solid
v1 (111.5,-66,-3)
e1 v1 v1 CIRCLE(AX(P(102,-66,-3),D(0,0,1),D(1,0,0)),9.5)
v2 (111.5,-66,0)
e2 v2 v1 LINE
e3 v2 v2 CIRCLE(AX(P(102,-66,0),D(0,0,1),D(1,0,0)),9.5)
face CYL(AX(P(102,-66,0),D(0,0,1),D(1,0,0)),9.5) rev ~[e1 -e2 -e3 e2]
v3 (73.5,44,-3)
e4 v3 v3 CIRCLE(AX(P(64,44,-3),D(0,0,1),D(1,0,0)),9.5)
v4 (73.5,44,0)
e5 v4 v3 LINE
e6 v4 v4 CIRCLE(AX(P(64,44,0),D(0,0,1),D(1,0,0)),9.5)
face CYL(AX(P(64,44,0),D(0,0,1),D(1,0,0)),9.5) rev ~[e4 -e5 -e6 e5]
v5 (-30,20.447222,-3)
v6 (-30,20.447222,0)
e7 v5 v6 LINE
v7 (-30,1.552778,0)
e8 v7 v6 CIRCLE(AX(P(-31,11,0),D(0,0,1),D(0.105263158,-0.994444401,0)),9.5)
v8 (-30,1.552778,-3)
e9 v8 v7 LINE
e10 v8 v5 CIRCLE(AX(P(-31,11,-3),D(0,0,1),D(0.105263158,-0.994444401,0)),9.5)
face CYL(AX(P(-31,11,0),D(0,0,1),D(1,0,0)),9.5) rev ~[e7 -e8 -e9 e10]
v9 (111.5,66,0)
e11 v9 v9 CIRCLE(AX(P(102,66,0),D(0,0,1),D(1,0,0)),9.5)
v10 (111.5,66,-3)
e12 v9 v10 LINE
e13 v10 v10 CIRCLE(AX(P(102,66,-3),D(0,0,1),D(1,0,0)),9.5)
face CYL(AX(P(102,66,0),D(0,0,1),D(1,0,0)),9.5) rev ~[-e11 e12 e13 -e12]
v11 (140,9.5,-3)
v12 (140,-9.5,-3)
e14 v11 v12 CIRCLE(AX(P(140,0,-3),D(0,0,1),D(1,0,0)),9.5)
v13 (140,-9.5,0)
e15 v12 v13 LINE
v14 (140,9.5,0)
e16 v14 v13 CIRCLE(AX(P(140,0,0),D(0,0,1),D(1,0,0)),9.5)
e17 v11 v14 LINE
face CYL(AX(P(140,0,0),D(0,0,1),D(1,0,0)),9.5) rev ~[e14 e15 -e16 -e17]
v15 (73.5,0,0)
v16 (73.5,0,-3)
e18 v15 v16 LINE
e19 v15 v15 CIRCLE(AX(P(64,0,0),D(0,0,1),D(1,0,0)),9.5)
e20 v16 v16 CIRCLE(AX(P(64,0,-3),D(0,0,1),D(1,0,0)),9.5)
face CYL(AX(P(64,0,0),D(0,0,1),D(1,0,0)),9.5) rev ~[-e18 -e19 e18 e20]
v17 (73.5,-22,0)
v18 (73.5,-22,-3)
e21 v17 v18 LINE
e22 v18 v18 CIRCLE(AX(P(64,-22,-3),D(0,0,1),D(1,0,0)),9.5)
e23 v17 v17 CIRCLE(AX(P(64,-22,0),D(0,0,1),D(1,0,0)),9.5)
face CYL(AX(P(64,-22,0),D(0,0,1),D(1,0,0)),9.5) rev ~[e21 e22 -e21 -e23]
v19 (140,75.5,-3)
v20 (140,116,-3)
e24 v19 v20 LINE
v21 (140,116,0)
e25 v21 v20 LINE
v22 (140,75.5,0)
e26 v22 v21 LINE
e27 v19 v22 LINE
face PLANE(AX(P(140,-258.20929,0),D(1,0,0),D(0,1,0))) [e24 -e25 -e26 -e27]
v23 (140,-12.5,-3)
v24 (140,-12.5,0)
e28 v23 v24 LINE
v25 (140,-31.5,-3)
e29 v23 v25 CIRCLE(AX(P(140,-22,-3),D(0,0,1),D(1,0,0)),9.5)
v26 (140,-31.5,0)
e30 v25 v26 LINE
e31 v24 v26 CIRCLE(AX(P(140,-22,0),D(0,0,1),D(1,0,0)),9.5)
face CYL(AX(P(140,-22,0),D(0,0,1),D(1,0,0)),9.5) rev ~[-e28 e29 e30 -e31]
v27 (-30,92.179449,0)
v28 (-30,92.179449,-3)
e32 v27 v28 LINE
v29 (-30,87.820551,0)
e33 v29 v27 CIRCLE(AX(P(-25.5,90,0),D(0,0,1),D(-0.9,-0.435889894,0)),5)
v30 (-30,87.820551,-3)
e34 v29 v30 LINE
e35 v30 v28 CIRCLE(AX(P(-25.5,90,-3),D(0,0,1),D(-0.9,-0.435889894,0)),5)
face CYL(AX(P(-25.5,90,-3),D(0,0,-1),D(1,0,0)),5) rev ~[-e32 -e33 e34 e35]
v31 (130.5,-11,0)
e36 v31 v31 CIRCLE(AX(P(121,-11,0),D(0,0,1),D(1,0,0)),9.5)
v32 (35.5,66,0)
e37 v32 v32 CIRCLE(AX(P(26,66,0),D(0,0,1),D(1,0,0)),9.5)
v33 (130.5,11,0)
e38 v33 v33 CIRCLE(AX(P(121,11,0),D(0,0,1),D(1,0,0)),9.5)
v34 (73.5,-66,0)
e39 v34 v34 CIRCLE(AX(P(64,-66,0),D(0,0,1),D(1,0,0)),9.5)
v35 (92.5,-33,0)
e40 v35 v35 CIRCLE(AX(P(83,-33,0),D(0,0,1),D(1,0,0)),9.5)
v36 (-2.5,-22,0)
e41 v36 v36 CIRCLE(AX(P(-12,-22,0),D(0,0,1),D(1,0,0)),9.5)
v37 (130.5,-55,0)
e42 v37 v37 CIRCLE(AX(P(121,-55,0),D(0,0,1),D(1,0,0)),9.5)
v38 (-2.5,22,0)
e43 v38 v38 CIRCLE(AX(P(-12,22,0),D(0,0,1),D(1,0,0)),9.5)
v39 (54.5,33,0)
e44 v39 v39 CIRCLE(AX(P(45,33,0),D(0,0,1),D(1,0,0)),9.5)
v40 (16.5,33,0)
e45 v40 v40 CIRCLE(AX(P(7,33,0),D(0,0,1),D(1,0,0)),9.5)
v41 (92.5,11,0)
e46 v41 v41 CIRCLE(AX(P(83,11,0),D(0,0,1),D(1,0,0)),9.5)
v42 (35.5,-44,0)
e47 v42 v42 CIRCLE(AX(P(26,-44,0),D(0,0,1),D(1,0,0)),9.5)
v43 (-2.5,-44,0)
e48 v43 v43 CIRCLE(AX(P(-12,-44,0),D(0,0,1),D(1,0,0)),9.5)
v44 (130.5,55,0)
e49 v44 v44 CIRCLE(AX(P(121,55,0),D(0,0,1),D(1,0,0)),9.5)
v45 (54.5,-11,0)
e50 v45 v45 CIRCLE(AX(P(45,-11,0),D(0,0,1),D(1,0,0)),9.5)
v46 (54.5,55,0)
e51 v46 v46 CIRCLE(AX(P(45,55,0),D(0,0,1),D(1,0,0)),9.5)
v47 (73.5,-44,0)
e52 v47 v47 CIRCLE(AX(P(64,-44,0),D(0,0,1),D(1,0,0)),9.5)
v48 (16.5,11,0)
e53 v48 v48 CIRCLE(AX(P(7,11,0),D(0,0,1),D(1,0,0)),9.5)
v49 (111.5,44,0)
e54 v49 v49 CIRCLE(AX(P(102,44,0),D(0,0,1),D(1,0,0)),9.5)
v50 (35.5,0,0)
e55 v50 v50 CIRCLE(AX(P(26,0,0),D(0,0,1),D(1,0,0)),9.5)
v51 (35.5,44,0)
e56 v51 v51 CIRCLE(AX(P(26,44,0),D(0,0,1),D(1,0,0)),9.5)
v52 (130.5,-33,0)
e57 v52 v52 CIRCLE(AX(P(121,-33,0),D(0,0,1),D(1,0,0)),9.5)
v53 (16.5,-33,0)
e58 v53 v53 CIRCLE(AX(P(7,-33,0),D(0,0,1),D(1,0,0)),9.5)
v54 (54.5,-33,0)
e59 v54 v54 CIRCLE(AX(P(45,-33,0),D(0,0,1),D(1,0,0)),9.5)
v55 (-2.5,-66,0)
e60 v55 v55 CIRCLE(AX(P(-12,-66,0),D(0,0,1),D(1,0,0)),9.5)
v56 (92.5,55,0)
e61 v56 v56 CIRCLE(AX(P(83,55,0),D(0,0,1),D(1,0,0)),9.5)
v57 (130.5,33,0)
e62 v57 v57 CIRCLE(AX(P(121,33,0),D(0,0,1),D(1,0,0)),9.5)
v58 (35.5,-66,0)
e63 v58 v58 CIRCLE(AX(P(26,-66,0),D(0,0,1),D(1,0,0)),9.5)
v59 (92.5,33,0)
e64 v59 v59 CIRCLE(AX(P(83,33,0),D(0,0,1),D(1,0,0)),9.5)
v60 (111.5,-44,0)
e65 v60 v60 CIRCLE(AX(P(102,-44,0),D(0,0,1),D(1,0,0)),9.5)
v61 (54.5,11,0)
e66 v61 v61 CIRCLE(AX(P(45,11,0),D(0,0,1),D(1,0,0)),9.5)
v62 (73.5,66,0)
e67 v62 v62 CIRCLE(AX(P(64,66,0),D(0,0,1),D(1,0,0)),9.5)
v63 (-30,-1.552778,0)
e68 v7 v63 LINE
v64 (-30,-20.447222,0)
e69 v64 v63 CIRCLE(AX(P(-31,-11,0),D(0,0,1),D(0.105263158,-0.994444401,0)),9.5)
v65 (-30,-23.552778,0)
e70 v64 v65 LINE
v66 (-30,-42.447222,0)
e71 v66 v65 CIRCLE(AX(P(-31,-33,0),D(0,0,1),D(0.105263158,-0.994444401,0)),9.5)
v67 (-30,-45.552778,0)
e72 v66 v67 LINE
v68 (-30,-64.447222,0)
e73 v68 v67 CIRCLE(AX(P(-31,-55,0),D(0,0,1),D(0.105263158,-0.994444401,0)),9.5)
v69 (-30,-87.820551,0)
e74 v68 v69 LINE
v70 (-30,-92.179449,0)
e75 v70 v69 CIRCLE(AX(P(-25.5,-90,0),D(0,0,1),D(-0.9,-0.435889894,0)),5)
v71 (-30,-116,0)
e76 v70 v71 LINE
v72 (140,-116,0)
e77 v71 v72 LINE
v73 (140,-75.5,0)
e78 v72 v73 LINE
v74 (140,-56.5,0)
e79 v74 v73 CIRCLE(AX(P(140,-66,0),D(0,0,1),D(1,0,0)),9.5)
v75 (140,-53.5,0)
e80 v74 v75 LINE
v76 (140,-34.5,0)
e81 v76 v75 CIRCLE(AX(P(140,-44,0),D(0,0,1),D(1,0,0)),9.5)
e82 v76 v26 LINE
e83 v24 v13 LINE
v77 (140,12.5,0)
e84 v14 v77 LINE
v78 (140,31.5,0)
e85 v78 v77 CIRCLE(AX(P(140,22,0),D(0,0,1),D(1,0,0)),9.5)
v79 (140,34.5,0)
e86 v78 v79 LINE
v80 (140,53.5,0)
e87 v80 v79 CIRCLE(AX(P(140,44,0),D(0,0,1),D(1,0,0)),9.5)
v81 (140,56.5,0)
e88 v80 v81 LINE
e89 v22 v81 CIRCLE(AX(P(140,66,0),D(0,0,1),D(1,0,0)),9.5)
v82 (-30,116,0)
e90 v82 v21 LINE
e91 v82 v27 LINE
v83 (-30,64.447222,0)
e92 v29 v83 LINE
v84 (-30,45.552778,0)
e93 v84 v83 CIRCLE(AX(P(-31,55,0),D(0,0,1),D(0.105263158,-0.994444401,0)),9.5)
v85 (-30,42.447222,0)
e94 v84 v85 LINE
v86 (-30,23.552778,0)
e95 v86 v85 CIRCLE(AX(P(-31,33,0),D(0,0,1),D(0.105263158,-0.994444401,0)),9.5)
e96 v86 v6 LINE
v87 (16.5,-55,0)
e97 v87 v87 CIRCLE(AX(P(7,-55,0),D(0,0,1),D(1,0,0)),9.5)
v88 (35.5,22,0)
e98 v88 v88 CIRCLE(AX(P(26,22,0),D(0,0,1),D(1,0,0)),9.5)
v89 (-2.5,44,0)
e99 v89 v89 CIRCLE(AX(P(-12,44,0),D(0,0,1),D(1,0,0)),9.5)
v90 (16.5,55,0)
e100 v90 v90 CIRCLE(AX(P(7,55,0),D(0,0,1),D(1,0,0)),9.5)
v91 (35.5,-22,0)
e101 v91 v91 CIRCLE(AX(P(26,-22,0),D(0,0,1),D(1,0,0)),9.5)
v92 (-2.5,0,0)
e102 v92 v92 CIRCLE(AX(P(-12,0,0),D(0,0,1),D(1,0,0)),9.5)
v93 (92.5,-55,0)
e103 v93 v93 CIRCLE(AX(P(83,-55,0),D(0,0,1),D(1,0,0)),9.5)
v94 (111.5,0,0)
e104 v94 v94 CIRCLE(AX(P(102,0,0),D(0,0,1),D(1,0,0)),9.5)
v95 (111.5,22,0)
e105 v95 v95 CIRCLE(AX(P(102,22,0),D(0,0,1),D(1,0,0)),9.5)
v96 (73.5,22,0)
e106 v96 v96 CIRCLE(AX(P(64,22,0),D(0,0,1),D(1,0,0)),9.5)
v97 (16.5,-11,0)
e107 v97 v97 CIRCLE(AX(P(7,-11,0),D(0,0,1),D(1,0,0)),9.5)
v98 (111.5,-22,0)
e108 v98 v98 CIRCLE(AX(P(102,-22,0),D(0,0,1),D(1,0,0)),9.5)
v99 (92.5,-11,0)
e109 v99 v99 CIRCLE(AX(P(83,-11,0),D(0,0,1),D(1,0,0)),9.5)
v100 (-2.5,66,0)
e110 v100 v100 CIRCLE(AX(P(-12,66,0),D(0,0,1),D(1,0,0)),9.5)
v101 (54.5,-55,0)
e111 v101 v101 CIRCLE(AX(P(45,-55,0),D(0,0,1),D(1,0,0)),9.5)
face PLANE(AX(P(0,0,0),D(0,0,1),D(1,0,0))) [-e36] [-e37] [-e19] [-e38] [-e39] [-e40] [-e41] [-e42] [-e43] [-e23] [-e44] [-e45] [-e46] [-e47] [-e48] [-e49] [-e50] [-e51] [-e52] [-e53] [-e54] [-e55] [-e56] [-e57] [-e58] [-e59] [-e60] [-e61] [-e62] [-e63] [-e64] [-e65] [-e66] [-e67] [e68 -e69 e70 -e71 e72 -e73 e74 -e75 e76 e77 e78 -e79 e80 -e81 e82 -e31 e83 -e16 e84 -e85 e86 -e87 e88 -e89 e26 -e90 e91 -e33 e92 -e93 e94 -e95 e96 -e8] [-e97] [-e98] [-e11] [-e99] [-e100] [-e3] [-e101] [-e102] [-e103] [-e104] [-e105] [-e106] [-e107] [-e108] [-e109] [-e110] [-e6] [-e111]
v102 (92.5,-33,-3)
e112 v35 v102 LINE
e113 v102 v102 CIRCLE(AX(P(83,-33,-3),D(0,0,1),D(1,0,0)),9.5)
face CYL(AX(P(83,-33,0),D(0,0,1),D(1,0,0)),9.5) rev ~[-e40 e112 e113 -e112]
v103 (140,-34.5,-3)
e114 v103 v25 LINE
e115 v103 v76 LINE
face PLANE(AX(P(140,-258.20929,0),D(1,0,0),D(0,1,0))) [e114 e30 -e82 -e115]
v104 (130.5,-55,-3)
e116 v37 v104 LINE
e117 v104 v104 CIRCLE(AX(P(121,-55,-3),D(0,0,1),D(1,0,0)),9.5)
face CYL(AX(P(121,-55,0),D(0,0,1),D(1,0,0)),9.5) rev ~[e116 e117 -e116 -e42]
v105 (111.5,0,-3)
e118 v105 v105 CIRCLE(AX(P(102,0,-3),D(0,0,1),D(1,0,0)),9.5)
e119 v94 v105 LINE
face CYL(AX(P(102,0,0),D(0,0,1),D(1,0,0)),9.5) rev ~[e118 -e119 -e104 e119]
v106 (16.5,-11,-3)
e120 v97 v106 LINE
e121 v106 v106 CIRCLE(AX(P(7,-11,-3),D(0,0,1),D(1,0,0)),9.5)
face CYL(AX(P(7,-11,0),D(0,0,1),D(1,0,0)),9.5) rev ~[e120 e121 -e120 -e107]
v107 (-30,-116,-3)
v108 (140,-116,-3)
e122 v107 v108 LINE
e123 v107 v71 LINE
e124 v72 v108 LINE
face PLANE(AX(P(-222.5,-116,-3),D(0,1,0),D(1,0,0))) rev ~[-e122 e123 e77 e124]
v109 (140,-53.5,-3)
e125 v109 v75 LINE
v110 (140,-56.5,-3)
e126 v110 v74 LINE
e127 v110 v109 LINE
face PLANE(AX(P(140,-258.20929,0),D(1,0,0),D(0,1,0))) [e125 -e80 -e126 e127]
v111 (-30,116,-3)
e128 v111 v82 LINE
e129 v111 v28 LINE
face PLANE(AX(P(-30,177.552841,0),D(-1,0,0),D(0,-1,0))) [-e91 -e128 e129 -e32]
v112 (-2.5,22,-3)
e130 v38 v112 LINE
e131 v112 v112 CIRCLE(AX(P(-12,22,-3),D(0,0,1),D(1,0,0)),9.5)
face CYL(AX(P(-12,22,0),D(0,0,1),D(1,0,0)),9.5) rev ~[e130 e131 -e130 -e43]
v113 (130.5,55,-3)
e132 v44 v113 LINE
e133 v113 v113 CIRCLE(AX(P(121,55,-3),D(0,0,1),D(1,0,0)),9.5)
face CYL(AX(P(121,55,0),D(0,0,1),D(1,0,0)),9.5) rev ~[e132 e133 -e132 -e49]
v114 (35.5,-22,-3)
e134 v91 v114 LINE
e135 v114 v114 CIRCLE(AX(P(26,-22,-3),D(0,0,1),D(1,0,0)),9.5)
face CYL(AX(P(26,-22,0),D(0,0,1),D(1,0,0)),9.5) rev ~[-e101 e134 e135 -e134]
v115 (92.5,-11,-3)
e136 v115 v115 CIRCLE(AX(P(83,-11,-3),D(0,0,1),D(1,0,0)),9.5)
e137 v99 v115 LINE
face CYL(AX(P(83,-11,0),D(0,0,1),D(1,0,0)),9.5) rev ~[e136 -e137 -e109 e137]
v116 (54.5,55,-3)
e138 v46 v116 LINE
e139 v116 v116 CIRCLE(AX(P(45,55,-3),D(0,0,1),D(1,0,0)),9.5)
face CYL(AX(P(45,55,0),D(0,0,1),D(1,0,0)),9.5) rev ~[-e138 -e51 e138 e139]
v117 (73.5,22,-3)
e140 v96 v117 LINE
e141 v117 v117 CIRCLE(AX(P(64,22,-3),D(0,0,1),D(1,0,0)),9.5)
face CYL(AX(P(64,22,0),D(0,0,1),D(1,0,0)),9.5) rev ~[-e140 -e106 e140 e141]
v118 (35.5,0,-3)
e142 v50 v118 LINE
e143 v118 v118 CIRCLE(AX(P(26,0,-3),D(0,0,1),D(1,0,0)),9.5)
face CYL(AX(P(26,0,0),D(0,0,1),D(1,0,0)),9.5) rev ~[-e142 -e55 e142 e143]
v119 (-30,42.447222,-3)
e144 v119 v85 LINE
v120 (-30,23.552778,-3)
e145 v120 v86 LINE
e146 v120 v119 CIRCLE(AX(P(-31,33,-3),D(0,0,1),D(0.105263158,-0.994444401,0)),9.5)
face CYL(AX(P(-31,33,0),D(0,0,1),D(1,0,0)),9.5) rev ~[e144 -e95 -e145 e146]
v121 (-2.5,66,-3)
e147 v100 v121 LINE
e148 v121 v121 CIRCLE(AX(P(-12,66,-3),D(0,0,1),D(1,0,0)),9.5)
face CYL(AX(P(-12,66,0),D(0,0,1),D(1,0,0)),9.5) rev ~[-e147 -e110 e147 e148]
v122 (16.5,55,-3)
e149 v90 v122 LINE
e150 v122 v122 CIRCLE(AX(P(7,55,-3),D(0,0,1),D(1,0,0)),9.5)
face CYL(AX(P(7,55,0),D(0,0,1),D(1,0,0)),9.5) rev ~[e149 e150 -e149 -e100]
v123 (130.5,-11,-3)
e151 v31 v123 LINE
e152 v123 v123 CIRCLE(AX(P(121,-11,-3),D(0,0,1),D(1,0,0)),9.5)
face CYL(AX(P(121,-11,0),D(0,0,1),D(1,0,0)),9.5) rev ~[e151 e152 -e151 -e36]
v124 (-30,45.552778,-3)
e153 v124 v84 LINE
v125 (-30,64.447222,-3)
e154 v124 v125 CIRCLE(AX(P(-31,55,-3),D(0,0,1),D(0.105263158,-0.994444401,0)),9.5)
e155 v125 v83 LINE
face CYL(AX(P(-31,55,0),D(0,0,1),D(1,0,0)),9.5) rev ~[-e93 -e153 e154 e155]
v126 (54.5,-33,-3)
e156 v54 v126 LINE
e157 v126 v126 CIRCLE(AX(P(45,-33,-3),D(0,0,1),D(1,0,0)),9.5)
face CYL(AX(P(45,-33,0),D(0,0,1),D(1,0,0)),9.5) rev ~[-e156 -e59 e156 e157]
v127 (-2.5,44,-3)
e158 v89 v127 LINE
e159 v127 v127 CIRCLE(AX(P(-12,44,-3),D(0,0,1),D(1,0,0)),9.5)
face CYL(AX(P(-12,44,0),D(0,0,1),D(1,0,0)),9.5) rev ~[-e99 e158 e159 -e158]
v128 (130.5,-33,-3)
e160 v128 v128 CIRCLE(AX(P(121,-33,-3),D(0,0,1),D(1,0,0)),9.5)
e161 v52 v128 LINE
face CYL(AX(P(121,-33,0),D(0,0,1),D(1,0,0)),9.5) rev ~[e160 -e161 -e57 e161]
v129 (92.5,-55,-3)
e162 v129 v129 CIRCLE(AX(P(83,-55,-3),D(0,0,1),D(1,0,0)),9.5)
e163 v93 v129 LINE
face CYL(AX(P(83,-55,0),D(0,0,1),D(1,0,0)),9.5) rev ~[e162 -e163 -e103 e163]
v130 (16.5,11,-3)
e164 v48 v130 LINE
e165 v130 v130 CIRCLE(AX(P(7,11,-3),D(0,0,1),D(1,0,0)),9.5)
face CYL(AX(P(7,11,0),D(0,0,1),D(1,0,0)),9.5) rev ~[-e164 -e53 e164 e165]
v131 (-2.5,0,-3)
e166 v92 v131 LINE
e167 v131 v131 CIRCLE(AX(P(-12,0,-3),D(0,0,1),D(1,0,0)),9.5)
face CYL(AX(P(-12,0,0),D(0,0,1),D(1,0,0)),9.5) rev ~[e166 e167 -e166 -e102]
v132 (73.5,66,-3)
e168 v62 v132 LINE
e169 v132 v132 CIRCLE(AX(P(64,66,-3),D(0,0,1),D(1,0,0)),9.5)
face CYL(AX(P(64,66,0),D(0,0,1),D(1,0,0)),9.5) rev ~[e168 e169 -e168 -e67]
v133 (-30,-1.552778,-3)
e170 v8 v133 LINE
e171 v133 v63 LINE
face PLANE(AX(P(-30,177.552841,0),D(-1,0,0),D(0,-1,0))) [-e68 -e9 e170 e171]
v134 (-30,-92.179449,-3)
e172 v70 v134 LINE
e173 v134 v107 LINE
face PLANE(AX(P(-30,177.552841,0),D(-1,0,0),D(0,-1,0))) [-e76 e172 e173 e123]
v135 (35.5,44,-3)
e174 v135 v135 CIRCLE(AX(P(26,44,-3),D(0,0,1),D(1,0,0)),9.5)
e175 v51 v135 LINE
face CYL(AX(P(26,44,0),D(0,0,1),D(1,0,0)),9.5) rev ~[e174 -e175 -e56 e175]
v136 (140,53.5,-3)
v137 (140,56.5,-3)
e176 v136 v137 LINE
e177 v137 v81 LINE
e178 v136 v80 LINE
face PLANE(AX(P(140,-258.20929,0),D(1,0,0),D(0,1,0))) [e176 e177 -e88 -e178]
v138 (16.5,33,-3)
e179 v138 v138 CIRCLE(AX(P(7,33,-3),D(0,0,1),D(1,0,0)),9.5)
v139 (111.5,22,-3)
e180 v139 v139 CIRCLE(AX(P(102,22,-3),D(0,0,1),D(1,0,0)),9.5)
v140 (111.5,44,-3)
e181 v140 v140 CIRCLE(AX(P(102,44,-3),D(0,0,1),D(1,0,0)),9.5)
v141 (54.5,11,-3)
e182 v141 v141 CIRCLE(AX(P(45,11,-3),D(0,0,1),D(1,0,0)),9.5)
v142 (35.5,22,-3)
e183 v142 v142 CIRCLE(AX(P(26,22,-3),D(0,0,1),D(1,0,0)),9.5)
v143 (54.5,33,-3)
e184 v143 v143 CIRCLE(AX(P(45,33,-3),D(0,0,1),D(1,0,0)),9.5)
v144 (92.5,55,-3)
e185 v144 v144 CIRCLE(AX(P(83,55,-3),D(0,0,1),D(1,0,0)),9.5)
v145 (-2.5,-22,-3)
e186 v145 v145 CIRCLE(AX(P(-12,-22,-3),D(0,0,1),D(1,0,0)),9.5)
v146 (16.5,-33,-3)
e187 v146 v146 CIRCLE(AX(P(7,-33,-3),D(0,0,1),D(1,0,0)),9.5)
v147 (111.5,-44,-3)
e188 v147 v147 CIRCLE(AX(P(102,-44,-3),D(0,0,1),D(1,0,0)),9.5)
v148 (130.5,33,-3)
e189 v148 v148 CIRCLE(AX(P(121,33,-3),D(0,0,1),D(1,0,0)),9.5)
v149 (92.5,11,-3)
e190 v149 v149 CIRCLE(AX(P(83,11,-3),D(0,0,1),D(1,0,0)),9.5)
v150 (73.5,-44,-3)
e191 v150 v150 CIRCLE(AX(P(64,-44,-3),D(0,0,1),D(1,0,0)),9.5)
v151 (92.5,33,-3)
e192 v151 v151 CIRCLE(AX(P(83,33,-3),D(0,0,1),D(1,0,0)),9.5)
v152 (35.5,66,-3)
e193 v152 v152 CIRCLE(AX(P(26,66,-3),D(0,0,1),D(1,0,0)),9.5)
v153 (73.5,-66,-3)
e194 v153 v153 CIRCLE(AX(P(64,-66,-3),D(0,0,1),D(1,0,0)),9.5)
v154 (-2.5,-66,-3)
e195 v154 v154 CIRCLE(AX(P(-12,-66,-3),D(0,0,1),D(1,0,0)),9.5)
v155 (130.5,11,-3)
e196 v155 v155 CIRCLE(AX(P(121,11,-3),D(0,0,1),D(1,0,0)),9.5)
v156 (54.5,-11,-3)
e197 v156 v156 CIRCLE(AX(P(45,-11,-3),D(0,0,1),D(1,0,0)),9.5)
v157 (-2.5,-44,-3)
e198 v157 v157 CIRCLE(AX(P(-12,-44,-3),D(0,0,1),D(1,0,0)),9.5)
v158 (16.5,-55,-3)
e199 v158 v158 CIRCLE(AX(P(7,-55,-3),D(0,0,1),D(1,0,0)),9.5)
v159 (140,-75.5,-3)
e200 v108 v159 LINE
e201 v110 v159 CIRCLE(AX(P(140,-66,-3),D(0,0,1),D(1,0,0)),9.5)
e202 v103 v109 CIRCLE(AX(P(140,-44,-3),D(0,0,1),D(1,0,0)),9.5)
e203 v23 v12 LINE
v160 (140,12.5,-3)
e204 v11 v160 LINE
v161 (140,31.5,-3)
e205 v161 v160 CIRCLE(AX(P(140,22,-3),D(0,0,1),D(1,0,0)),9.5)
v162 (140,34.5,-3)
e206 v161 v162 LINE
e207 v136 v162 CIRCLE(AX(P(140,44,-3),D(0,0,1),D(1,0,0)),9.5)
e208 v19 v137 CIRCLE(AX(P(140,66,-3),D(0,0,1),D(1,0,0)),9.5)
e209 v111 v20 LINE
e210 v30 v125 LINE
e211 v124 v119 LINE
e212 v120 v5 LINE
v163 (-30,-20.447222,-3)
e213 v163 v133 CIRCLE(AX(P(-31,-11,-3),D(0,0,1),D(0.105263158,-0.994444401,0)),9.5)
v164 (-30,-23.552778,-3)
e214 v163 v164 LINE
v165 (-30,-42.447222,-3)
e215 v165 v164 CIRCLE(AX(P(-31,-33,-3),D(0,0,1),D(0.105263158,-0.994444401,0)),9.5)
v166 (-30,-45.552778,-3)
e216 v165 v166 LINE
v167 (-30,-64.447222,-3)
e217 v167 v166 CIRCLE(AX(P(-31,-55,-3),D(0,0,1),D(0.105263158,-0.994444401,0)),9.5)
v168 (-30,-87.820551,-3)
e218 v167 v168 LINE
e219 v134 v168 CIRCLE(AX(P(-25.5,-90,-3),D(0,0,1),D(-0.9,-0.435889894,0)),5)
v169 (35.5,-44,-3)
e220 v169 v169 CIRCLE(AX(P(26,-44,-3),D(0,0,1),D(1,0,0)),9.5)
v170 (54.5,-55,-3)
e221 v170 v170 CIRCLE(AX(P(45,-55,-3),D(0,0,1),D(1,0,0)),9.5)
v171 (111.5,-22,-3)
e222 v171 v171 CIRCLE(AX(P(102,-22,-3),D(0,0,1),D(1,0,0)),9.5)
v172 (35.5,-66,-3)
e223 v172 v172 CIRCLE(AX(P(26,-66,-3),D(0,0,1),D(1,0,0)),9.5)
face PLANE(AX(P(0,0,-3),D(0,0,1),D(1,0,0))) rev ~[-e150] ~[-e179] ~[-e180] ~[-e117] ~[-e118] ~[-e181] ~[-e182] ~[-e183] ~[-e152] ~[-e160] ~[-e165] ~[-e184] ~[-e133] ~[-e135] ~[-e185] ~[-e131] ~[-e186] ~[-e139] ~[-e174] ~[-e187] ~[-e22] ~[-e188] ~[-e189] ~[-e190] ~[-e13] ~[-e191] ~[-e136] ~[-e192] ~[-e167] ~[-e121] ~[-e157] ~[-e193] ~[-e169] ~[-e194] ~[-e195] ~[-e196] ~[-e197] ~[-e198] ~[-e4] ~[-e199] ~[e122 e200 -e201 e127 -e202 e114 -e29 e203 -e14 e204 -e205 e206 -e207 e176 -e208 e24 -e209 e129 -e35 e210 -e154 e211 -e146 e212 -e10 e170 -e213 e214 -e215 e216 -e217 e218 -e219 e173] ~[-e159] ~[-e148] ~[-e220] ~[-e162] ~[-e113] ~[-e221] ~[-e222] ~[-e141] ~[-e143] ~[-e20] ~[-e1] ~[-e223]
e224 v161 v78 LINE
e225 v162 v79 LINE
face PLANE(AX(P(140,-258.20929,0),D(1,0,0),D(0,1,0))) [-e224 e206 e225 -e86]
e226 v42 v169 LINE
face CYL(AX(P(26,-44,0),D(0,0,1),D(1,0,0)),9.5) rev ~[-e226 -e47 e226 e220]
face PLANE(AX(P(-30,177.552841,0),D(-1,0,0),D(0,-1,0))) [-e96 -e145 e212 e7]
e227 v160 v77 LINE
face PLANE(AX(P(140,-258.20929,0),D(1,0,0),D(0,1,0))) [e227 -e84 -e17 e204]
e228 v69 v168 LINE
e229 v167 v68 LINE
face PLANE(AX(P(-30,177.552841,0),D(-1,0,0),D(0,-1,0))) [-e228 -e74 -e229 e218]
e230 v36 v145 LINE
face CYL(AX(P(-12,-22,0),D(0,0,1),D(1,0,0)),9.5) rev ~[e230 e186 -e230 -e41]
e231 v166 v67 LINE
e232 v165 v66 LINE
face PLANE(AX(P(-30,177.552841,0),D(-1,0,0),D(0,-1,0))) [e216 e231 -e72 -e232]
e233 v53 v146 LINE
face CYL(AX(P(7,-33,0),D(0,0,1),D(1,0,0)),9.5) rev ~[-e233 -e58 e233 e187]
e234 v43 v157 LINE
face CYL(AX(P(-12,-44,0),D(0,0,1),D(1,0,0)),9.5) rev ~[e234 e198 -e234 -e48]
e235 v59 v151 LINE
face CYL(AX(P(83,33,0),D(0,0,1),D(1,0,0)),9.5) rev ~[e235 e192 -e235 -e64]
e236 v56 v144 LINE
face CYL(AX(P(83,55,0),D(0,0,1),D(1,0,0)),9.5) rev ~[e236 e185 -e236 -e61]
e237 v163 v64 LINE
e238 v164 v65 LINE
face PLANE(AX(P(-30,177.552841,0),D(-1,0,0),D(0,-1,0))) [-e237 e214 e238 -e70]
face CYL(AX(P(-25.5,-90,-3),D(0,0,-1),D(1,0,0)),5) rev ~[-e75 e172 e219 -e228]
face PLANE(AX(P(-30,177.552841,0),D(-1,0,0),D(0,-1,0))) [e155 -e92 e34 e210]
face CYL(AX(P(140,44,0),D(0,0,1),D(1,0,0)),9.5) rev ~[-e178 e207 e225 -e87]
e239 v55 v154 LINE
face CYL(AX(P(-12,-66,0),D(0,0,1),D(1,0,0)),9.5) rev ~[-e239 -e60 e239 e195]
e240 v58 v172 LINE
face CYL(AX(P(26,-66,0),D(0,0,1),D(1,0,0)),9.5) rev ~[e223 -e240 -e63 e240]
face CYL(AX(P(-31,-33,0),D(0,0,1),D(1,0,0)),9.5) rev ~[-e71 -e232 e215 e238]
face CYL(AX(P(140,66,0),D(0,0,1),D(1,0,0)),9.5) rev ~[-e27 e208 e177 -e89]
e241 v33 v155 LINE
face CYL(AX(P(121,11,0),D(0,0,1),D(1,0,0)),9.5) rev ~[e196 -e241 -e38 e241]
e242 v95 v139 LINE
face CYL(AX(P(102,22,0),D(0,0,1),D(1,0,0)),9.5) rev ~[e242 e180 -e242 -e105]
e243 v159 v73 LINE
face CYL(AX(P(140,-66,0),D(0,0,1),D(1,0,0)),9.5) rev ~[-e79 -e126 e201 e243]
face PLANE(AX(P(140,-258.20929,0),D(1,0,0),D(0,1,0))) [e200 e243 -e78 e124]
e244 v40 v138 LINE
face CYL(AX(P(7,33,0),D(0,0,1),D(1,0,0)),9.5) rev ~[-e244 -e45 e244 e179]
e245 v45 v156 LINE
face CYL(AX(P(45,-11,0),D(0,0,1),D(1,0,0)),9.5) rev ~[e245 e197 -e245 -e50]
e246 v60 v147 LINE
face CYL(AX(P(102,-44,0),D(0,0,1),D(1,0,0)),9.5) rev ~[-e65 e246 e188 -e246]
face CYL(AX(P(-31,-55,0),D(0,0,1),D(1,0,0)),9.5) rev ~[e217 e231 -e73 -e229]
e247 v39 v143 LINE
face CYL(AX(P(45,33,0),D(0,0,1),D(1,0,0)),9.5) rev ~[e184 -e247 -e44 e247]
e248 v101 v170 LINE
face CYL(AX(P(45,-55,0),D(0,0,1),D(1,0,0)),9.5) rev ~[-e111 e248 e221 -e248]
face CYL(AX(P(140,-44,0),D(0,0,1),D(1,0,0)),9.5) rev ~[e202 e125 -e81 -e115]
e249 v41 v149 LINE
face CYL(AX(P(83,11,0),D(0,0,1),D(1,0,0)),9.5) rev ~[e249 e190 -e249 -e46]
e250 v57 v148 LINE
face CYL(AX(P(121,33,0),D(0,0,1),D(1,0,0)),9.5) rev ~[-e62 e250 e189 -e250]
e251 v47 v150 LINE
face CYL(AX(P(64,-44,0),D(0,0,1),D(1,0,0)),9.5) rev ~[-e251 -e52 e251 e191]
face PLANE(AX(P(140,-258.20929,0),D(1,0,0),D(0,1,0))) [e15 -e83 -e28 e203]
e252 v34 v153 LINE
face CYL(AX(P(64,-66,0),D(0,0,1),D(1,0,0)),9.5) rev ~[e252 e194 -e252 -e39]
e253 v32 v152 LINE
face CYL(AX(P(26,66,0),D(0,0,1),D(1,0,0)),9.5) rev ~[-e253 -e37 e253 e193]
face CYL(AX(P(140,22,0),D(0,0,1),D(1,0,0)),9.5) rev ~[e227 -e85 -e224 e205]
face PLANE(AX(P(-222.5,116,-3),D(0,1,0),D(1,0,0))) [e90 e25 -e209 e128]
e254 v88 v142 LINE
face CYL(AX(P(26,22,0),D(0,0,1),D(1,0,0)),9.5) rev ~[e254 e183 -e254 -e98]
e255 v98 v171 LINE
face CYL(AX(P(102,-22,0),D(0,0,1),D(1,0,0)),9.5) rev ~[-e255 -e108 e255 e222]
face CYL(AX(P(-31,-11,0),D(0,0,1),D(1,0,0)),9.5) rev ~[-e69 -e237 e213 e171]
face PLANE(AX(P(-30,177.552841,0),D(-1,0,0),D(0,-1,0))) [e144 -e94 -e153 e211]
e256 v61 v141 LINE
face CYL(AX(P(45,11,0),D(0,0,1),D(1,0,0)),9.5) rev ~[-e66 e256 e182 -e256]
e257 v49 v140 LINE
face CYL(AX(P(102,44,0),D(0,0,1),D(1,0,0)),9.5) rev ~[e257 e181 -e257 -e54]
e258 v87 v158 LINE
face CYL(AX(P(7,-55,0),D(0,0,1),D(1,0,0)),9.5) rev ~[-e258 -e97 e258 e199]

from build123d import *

# Parameters (mm, degrees)
SKETCH086_W     = 445
SKETCH086_H     = 232
PAD026_DEPTH    = 3
SKETCH087_R     = 9.5
POCKET057_DEPTH = 5
FILLET011_R     = 2
POCKET058_DEPTH = 10.001
SKETCH089_R     = 6
SKETCH089_R_2   = 5
POCKET059_DEPTH = 5
POCKET064_DEPTH = 5


with BuildPart() as part:
    # Sketch086 → Pad026 (new body)
    with BuildSketch(Plane.XY):
        Rectangle(SKETCH086_W, SKETCH086_H)
    extrude(amount=PAD026_DEPTH)

    # Sketch087 (on Face6 of Pad026) → Pocket057 (cut)
    with BuildSketch(Plane.XY.offset(3)):
        with Locations((-183, 55)):
            Circle(SKETCH087_R)
        with Locations((-183, 33)):
            Circle(SKETCH087_R)
        with Locations((-183, 11)):
            Circle(SKETCH087_R)
        with Locations((-183, -11)):
            Circle(SKETCH087_R)
        with Locations((-183, -33)):
            Circle(SKETCH087_R)
        with Locations((-183, -55)):
            Circle(SKETCH087_R)
        with Locations((-164, 44)):
            Circle(SKETCH087_R)
        with Locations((-164, 22)):
            Circle(SKETCH087_R)
        with Locations((-164, 0)):
            Circle(SKETCH087_R)
        with Locations((-164, -22)):
            Circle(SKETCH087_R)
        with Locations((-164, -44)):
            Circle(SKETCH087_R)
        with Locations((-145, 55)):
            Circle(SKETCH087_R)
        with Locations((-145, 33)):
            Circle(SKETCH087_R)
        with Locations((-145, 11)):
            Circle(SKETCH087_R)
        with Locations((-145, -11)):
            Circle(SKETCH087_R)
        with Locations((-145, -33)):
            Circle(SKETCH087_R)
        with Locations((-145, -55)):
            Circle(SKETCH087_R)
        with Locations((-126, 44)):
            Circle(SKETCH087_R)
        with Locations((-126, 22)):
            Circle(SKETCH087_R)
        with Locations((-126, 0)):
            Circle(SKETCH087_R)
        with Locations((-126, -22)):
            Circle(SKETCH087_R)
        with Locations((-126, -44)):
            Circle(SKETCH087_R)
        with Locations((-107, 55)):
            Circle(SKETCH087_R)
        with Locations((-107, 33)):
            Circle(SKETCH087_R)
        with Locations((-107, 11)):
            Circle(SKETCH087_R)
        with Locations((-107, -11)):
            Circle(SKETCH087_R)
        with Locations((-107, -33)):
            Circle(SKETCH087_R)
        with Locations((-107, -55)):
            Circle(SKETCH087_R)
        with Locations((-88, -44)):
            Circle(SKETCH087_R)
        with Locations((-88, -22)):
            Circle(SKETCH087_R)
        with Locations((-88, 0)):
            Circle(SKETCH087_R)
        with Locations((-88, 22)):
            Circle(SKETCH087_R)
        with Locations((-88, 44)):
            Circle(SKETCH087_R)
        with Locations((-69, 55)):
            Circle(SKETCH087_R)
        with Locations((-69, 33)):
            Circle(SKETCH087_R)
        with Locations((-69, 11)):
            Circle(SKETCH087_R)
        with Locations((-69, -11)):
            Circle(SKETCH087_R)
        with Locations((-69, -33)):
            Circle(SKETCH087_R)
        with Locations((-50, 44)):
            Circle(SKETCH087_R)
        with Locations((-50, 22)):
            Circle(SKETCH087_R)
        with Locations((-50, 0)):
            Circle(SKETCH087_R)
        with Locations((-50, -22)):
            Circle(SKETCH087_R)
        with Locations((-50, -44)):
            Circle(SKETCH087_R)
        with Locations((-69, -55)):
            Circle(SKETCH087_R)
        with Locations((-31, 55)):
            Circle(SKETCH087_R)
        with Locations((-31, 33)):
            Circle(SKETCH087_R)
        with Locations((-31, 11)):
            Circle(SKETCH087_R)
        with Locations((-31, -11)):
            Circle(SKETCH087_R)
        with Locations((-31, -33)):
            Circle(SKETCH087_R)
        with Locations((-31, -55)):
            Circle(SKETCH087_R)
        with Locations((-12, -44)):
            Circle(SKETCH087_R)
        with Locations((-12, -22)):
            Circle(SKETCH087_R)
        with Locations((-12, 0)):
            Circle(SKETCH087_R)
        with Locations((-12, 22)):
            Circle(SKETCH087_R)
        with Locations((-12, 44)):
            Circle(SKETCH087_R)
        with Locations((7, 55)):
            Circle(SKETCH087_R)
        with Locations((7, 33)):
            Circle(SKETCH087_R)
        with Locations((7, 11)):
            Circle(SKETCH087_R)
        with Locations((7, -11)):
            Circle(SKETCH087_R)
        with Locations((7, -33)):
            Circle(SKETCH087_R)
        with Locations((7, -55)):
            Circle(SKETCH087_R)
        with Locations((26, -44)):
            Circle(SKETCH087_R)
        with Locations((26, -22)):
            Circle(SKETCH087_R)
        with Locations((26, 0)):
            Circle(SKETCH087_R)
        with Locations((26, 22)):
            Circle(SKETCH087_R)
        with Locations((26, 44)):
            Circle(SKETCH087_R)
        with Locations((45, 55)):
            Circle(SKETCH087_R)
        with Locations((45, 33)):
            Circle(SKETCH087_R)
        with Locations((45, 11)):
            Circle(SKETCH087_R)
        with Locations((45, -11)):
            Circle(SKETCH087_R)
        with Locations((64, 0)):
            Circle(SKETCH087_R)
        with Locations((64, 22)):
            Circle(SKETCH087_R)
        with Locations((64, 44)):
            Circle(SKETCH087_R)
        with Locations((45, -33)):
            Circle(SKETCH087_R)
        with Locations((45, -55)):
            Circle(SKETCH087_R)
        with Locations((64, -44)):
            Circle(SKETCH087_R)
        with Locations((64, -22)):
            Circle(SKETCH087_R)
        with Locations((83, 55)):
            Circle(SKETCH087_R)
        with Locations((83, 33)):
            Circle(SKETCH087_R)
        with Locations((83, 11)):
            Circle(SKETCH087_R)
        with Locations((83, -11)):
            Circle(SKETCH087_R)
        with Locations((83, -33)):
            Circle(SKETCH087_R)
        with Locations((83, -55)):
            Circle(SKETCH087_R)
        with Locations((102, 44)):
            Circle(SKETCH087_R)
        with Locations((102, 22)):
            Circle(SKETCH087_R)
        with Locations((102, 0)):
            Circle(SKETCH087_R)
        with Locations((102, -22)):
            Circle(SKETCH087_R)
        with Locations((102, -44)):
            Circle(SKETCH087_R)
        with Locations((121, 55)):
            Circle(SKETCH087_R)
        with Locations((121, 33)):
            Circle(SKETCH087_R)
        with Locations((121, 11)):
            Circle(SKETCH087_R)
        with Locations((121, -11)):
            Circle(SKETCH087_R)
        with Locations((121, -33)):
            Circle(SKETCH087_R)
        with Locations((121, -55)):
            Circle(SKETCH087_R)
        with Locations((140, 44)):
            Circle(SKETCH087_R)
        with Locations((140, 22)):
            Circle(SKETCH087_R)
        with Locations((140, 0)):
            Circle(SKETCH087_R)
        with Locations((140, -22)):
            Circle(SKETCH087_R)
        with Locations((140, -44)):
            Circle(SKETCH087_R)
        with Locations((159, 55)):
            Circle(SKETCH087_R)
        with Locations((159, 33)):
            Circle(SKETCH087_R)
        with Locations((159, 11)):
            Circle(SKETCH087_R)
        with Locations((159, -11)):
            Circle(SKETCH087_R)
        with Locations((159, -33)):
            Circle(SKETCH087_R)
        with Locations((159, -55)):
            Circle(SKETCH087_R)
        with Locations((-164, 66)):
            Circle(SKETCH087_R)
        with Locations((-126, 66)):
            Circle(SKETCH087_R)
        with Locations((-88, 66)):
            Circle(SKETCH087_R)
        with Locations((-50, 66)):
            Circle(SKETCH087_R)
        with Locations((-12, 66)):
            Circle(SKETCH087_R)
        with Locations((26, 66)):
            Circle(SKETCH087_R)
        with Locations((64, 66)):
            Circle(SKETCH087_R)
        with Locations((102, 66)):
            Circle(SKETCH087_R)
        with Locations((140, 66)):
            Circle(SKETCH087_R)
        with Locations((-164, -66)):
            Circle(SKETCH087_R)
        with Locations((-126, -66)):
            Circle(SKETCH087_R)
        with Locations((-88, -66)):
            Circle(SKETCH087_R)
        with Locations((-50, -66)):
            Circle(SKETCH087_R)
        with Locations((-12, -66)):
            Circle(SKETCH087_R)
        with Locations((26, -66)):
            Circle(SKETCH087_R)
        with Locations((64, -66)):
            Circle(SKETCH087_R)
        with Locations((102, -66)):
            Circle(SKETCH087_R)
        with Locations((140, -66)):
            Circle(SKETCH087_R)
        with Locations((178, 66)):
            Circle(SKETCH087_R)
        with Locations((178, 44)):
            Circle(SKETCH087_R)
        with Locations((178, 22)):
            Circle(SKETCH087_R)
        with Locations((178, 0)):
            Circle(SKETCH087_R)
        with Locations((178, -22)):
            Circle(SKETCH087_R)
        with Locations((178, -44)):
            Circle(SKETCH087_R)
        with Locations((178, -66)):
            Circle(SKETCH087_R)
    extrude(amount=-POCKET057_DEPTH, mode=Mode.SUBTRACT)

    # Fillet011
    fillet011_edges = [part.edges().sort_by_distance(p)[0] for p in [
        (-222.5, -116, 1.5),
        (222.5, -116, 1.5),
        (222.5, 116, 1.5),
        (-222.5, 116, 1.5),
    ]]
    fillet(fillet011_edges, radius=FILLET011_R)

    # Sketch088 → Pocket058 (cut, through all)
    with BuildSketch(Plane.XY.offset(10)):
        Polygon((188.873749, -62), (214.664444, -62), (214.664444, 62), (188.873749, 62), (188.873749, 11.724954), (183.462372, 4.250606), (183.462372, -4.752587), (188.873749, -11.972128), align=None)
    extrude(amount=-POCKET058_DEPTH, mode=Mode.SUBTRACT)

    # Sketch089 (on Face2 of Pocket058) → Pocket059 (cut)
    with BuildSketch(Plane(origin=(0, 0, 0), x_dir=(1, 0, 0), z_dir=(0, 0, -1))):
        with Locations((213.5, 50)):
            Circle(SKETCH089_R)
        with Locations((213.5, -50)):
            Circle(SKETCH089_R)
        with Locations((-213.5, 50)):
            Circle(SKETCH089_R)
        with Locations((-213.5, -50)):
            Circle(SKETCH089_R)
        with Locations((-163.5, 90)):
            Circle(SKETCH089_R_2)
        with Locations((-25.5, 90)):
            Circle(SKETCH089_R_2)
        with Locations((163.5, 90)):
            Circle(SKETCH089_R_2)
        with Locations((163.5, -90)):
            Circle(SKETCH089_R_2)
        with Locations((-25.5, -90)):
            Circle(SKETCH089_R_2)
        with Locations((-163.5, -90)):
            Circle(SKETCH089_R_2)
    extrude(amount=-POCKET059_DEPTH, mode=Mode.SUBTRACT)

    # Sketch095 (on Face5 of Pocket059) → Pocket064 (cut)
    with BuildSketch(Plane.XY.offset(3)):
        Polygon((-317.002441, 177.552841), (-30, 177.552841), (-30, -258.20929), (140, -258.20929), (140, 194.405518), (369.744232, 194.405518), (393.819366, -352.102783), (-350.707825, -320.203064), align=None)
    extrude(amount=-POCKET064_DEPTH, mode=Mode.SUBTRACT)


with BuildPart() as part_1:
    # Body022 placement: moved
    add(part.part.moved(Location((0, 0, -3))))


solid = part_1.part
